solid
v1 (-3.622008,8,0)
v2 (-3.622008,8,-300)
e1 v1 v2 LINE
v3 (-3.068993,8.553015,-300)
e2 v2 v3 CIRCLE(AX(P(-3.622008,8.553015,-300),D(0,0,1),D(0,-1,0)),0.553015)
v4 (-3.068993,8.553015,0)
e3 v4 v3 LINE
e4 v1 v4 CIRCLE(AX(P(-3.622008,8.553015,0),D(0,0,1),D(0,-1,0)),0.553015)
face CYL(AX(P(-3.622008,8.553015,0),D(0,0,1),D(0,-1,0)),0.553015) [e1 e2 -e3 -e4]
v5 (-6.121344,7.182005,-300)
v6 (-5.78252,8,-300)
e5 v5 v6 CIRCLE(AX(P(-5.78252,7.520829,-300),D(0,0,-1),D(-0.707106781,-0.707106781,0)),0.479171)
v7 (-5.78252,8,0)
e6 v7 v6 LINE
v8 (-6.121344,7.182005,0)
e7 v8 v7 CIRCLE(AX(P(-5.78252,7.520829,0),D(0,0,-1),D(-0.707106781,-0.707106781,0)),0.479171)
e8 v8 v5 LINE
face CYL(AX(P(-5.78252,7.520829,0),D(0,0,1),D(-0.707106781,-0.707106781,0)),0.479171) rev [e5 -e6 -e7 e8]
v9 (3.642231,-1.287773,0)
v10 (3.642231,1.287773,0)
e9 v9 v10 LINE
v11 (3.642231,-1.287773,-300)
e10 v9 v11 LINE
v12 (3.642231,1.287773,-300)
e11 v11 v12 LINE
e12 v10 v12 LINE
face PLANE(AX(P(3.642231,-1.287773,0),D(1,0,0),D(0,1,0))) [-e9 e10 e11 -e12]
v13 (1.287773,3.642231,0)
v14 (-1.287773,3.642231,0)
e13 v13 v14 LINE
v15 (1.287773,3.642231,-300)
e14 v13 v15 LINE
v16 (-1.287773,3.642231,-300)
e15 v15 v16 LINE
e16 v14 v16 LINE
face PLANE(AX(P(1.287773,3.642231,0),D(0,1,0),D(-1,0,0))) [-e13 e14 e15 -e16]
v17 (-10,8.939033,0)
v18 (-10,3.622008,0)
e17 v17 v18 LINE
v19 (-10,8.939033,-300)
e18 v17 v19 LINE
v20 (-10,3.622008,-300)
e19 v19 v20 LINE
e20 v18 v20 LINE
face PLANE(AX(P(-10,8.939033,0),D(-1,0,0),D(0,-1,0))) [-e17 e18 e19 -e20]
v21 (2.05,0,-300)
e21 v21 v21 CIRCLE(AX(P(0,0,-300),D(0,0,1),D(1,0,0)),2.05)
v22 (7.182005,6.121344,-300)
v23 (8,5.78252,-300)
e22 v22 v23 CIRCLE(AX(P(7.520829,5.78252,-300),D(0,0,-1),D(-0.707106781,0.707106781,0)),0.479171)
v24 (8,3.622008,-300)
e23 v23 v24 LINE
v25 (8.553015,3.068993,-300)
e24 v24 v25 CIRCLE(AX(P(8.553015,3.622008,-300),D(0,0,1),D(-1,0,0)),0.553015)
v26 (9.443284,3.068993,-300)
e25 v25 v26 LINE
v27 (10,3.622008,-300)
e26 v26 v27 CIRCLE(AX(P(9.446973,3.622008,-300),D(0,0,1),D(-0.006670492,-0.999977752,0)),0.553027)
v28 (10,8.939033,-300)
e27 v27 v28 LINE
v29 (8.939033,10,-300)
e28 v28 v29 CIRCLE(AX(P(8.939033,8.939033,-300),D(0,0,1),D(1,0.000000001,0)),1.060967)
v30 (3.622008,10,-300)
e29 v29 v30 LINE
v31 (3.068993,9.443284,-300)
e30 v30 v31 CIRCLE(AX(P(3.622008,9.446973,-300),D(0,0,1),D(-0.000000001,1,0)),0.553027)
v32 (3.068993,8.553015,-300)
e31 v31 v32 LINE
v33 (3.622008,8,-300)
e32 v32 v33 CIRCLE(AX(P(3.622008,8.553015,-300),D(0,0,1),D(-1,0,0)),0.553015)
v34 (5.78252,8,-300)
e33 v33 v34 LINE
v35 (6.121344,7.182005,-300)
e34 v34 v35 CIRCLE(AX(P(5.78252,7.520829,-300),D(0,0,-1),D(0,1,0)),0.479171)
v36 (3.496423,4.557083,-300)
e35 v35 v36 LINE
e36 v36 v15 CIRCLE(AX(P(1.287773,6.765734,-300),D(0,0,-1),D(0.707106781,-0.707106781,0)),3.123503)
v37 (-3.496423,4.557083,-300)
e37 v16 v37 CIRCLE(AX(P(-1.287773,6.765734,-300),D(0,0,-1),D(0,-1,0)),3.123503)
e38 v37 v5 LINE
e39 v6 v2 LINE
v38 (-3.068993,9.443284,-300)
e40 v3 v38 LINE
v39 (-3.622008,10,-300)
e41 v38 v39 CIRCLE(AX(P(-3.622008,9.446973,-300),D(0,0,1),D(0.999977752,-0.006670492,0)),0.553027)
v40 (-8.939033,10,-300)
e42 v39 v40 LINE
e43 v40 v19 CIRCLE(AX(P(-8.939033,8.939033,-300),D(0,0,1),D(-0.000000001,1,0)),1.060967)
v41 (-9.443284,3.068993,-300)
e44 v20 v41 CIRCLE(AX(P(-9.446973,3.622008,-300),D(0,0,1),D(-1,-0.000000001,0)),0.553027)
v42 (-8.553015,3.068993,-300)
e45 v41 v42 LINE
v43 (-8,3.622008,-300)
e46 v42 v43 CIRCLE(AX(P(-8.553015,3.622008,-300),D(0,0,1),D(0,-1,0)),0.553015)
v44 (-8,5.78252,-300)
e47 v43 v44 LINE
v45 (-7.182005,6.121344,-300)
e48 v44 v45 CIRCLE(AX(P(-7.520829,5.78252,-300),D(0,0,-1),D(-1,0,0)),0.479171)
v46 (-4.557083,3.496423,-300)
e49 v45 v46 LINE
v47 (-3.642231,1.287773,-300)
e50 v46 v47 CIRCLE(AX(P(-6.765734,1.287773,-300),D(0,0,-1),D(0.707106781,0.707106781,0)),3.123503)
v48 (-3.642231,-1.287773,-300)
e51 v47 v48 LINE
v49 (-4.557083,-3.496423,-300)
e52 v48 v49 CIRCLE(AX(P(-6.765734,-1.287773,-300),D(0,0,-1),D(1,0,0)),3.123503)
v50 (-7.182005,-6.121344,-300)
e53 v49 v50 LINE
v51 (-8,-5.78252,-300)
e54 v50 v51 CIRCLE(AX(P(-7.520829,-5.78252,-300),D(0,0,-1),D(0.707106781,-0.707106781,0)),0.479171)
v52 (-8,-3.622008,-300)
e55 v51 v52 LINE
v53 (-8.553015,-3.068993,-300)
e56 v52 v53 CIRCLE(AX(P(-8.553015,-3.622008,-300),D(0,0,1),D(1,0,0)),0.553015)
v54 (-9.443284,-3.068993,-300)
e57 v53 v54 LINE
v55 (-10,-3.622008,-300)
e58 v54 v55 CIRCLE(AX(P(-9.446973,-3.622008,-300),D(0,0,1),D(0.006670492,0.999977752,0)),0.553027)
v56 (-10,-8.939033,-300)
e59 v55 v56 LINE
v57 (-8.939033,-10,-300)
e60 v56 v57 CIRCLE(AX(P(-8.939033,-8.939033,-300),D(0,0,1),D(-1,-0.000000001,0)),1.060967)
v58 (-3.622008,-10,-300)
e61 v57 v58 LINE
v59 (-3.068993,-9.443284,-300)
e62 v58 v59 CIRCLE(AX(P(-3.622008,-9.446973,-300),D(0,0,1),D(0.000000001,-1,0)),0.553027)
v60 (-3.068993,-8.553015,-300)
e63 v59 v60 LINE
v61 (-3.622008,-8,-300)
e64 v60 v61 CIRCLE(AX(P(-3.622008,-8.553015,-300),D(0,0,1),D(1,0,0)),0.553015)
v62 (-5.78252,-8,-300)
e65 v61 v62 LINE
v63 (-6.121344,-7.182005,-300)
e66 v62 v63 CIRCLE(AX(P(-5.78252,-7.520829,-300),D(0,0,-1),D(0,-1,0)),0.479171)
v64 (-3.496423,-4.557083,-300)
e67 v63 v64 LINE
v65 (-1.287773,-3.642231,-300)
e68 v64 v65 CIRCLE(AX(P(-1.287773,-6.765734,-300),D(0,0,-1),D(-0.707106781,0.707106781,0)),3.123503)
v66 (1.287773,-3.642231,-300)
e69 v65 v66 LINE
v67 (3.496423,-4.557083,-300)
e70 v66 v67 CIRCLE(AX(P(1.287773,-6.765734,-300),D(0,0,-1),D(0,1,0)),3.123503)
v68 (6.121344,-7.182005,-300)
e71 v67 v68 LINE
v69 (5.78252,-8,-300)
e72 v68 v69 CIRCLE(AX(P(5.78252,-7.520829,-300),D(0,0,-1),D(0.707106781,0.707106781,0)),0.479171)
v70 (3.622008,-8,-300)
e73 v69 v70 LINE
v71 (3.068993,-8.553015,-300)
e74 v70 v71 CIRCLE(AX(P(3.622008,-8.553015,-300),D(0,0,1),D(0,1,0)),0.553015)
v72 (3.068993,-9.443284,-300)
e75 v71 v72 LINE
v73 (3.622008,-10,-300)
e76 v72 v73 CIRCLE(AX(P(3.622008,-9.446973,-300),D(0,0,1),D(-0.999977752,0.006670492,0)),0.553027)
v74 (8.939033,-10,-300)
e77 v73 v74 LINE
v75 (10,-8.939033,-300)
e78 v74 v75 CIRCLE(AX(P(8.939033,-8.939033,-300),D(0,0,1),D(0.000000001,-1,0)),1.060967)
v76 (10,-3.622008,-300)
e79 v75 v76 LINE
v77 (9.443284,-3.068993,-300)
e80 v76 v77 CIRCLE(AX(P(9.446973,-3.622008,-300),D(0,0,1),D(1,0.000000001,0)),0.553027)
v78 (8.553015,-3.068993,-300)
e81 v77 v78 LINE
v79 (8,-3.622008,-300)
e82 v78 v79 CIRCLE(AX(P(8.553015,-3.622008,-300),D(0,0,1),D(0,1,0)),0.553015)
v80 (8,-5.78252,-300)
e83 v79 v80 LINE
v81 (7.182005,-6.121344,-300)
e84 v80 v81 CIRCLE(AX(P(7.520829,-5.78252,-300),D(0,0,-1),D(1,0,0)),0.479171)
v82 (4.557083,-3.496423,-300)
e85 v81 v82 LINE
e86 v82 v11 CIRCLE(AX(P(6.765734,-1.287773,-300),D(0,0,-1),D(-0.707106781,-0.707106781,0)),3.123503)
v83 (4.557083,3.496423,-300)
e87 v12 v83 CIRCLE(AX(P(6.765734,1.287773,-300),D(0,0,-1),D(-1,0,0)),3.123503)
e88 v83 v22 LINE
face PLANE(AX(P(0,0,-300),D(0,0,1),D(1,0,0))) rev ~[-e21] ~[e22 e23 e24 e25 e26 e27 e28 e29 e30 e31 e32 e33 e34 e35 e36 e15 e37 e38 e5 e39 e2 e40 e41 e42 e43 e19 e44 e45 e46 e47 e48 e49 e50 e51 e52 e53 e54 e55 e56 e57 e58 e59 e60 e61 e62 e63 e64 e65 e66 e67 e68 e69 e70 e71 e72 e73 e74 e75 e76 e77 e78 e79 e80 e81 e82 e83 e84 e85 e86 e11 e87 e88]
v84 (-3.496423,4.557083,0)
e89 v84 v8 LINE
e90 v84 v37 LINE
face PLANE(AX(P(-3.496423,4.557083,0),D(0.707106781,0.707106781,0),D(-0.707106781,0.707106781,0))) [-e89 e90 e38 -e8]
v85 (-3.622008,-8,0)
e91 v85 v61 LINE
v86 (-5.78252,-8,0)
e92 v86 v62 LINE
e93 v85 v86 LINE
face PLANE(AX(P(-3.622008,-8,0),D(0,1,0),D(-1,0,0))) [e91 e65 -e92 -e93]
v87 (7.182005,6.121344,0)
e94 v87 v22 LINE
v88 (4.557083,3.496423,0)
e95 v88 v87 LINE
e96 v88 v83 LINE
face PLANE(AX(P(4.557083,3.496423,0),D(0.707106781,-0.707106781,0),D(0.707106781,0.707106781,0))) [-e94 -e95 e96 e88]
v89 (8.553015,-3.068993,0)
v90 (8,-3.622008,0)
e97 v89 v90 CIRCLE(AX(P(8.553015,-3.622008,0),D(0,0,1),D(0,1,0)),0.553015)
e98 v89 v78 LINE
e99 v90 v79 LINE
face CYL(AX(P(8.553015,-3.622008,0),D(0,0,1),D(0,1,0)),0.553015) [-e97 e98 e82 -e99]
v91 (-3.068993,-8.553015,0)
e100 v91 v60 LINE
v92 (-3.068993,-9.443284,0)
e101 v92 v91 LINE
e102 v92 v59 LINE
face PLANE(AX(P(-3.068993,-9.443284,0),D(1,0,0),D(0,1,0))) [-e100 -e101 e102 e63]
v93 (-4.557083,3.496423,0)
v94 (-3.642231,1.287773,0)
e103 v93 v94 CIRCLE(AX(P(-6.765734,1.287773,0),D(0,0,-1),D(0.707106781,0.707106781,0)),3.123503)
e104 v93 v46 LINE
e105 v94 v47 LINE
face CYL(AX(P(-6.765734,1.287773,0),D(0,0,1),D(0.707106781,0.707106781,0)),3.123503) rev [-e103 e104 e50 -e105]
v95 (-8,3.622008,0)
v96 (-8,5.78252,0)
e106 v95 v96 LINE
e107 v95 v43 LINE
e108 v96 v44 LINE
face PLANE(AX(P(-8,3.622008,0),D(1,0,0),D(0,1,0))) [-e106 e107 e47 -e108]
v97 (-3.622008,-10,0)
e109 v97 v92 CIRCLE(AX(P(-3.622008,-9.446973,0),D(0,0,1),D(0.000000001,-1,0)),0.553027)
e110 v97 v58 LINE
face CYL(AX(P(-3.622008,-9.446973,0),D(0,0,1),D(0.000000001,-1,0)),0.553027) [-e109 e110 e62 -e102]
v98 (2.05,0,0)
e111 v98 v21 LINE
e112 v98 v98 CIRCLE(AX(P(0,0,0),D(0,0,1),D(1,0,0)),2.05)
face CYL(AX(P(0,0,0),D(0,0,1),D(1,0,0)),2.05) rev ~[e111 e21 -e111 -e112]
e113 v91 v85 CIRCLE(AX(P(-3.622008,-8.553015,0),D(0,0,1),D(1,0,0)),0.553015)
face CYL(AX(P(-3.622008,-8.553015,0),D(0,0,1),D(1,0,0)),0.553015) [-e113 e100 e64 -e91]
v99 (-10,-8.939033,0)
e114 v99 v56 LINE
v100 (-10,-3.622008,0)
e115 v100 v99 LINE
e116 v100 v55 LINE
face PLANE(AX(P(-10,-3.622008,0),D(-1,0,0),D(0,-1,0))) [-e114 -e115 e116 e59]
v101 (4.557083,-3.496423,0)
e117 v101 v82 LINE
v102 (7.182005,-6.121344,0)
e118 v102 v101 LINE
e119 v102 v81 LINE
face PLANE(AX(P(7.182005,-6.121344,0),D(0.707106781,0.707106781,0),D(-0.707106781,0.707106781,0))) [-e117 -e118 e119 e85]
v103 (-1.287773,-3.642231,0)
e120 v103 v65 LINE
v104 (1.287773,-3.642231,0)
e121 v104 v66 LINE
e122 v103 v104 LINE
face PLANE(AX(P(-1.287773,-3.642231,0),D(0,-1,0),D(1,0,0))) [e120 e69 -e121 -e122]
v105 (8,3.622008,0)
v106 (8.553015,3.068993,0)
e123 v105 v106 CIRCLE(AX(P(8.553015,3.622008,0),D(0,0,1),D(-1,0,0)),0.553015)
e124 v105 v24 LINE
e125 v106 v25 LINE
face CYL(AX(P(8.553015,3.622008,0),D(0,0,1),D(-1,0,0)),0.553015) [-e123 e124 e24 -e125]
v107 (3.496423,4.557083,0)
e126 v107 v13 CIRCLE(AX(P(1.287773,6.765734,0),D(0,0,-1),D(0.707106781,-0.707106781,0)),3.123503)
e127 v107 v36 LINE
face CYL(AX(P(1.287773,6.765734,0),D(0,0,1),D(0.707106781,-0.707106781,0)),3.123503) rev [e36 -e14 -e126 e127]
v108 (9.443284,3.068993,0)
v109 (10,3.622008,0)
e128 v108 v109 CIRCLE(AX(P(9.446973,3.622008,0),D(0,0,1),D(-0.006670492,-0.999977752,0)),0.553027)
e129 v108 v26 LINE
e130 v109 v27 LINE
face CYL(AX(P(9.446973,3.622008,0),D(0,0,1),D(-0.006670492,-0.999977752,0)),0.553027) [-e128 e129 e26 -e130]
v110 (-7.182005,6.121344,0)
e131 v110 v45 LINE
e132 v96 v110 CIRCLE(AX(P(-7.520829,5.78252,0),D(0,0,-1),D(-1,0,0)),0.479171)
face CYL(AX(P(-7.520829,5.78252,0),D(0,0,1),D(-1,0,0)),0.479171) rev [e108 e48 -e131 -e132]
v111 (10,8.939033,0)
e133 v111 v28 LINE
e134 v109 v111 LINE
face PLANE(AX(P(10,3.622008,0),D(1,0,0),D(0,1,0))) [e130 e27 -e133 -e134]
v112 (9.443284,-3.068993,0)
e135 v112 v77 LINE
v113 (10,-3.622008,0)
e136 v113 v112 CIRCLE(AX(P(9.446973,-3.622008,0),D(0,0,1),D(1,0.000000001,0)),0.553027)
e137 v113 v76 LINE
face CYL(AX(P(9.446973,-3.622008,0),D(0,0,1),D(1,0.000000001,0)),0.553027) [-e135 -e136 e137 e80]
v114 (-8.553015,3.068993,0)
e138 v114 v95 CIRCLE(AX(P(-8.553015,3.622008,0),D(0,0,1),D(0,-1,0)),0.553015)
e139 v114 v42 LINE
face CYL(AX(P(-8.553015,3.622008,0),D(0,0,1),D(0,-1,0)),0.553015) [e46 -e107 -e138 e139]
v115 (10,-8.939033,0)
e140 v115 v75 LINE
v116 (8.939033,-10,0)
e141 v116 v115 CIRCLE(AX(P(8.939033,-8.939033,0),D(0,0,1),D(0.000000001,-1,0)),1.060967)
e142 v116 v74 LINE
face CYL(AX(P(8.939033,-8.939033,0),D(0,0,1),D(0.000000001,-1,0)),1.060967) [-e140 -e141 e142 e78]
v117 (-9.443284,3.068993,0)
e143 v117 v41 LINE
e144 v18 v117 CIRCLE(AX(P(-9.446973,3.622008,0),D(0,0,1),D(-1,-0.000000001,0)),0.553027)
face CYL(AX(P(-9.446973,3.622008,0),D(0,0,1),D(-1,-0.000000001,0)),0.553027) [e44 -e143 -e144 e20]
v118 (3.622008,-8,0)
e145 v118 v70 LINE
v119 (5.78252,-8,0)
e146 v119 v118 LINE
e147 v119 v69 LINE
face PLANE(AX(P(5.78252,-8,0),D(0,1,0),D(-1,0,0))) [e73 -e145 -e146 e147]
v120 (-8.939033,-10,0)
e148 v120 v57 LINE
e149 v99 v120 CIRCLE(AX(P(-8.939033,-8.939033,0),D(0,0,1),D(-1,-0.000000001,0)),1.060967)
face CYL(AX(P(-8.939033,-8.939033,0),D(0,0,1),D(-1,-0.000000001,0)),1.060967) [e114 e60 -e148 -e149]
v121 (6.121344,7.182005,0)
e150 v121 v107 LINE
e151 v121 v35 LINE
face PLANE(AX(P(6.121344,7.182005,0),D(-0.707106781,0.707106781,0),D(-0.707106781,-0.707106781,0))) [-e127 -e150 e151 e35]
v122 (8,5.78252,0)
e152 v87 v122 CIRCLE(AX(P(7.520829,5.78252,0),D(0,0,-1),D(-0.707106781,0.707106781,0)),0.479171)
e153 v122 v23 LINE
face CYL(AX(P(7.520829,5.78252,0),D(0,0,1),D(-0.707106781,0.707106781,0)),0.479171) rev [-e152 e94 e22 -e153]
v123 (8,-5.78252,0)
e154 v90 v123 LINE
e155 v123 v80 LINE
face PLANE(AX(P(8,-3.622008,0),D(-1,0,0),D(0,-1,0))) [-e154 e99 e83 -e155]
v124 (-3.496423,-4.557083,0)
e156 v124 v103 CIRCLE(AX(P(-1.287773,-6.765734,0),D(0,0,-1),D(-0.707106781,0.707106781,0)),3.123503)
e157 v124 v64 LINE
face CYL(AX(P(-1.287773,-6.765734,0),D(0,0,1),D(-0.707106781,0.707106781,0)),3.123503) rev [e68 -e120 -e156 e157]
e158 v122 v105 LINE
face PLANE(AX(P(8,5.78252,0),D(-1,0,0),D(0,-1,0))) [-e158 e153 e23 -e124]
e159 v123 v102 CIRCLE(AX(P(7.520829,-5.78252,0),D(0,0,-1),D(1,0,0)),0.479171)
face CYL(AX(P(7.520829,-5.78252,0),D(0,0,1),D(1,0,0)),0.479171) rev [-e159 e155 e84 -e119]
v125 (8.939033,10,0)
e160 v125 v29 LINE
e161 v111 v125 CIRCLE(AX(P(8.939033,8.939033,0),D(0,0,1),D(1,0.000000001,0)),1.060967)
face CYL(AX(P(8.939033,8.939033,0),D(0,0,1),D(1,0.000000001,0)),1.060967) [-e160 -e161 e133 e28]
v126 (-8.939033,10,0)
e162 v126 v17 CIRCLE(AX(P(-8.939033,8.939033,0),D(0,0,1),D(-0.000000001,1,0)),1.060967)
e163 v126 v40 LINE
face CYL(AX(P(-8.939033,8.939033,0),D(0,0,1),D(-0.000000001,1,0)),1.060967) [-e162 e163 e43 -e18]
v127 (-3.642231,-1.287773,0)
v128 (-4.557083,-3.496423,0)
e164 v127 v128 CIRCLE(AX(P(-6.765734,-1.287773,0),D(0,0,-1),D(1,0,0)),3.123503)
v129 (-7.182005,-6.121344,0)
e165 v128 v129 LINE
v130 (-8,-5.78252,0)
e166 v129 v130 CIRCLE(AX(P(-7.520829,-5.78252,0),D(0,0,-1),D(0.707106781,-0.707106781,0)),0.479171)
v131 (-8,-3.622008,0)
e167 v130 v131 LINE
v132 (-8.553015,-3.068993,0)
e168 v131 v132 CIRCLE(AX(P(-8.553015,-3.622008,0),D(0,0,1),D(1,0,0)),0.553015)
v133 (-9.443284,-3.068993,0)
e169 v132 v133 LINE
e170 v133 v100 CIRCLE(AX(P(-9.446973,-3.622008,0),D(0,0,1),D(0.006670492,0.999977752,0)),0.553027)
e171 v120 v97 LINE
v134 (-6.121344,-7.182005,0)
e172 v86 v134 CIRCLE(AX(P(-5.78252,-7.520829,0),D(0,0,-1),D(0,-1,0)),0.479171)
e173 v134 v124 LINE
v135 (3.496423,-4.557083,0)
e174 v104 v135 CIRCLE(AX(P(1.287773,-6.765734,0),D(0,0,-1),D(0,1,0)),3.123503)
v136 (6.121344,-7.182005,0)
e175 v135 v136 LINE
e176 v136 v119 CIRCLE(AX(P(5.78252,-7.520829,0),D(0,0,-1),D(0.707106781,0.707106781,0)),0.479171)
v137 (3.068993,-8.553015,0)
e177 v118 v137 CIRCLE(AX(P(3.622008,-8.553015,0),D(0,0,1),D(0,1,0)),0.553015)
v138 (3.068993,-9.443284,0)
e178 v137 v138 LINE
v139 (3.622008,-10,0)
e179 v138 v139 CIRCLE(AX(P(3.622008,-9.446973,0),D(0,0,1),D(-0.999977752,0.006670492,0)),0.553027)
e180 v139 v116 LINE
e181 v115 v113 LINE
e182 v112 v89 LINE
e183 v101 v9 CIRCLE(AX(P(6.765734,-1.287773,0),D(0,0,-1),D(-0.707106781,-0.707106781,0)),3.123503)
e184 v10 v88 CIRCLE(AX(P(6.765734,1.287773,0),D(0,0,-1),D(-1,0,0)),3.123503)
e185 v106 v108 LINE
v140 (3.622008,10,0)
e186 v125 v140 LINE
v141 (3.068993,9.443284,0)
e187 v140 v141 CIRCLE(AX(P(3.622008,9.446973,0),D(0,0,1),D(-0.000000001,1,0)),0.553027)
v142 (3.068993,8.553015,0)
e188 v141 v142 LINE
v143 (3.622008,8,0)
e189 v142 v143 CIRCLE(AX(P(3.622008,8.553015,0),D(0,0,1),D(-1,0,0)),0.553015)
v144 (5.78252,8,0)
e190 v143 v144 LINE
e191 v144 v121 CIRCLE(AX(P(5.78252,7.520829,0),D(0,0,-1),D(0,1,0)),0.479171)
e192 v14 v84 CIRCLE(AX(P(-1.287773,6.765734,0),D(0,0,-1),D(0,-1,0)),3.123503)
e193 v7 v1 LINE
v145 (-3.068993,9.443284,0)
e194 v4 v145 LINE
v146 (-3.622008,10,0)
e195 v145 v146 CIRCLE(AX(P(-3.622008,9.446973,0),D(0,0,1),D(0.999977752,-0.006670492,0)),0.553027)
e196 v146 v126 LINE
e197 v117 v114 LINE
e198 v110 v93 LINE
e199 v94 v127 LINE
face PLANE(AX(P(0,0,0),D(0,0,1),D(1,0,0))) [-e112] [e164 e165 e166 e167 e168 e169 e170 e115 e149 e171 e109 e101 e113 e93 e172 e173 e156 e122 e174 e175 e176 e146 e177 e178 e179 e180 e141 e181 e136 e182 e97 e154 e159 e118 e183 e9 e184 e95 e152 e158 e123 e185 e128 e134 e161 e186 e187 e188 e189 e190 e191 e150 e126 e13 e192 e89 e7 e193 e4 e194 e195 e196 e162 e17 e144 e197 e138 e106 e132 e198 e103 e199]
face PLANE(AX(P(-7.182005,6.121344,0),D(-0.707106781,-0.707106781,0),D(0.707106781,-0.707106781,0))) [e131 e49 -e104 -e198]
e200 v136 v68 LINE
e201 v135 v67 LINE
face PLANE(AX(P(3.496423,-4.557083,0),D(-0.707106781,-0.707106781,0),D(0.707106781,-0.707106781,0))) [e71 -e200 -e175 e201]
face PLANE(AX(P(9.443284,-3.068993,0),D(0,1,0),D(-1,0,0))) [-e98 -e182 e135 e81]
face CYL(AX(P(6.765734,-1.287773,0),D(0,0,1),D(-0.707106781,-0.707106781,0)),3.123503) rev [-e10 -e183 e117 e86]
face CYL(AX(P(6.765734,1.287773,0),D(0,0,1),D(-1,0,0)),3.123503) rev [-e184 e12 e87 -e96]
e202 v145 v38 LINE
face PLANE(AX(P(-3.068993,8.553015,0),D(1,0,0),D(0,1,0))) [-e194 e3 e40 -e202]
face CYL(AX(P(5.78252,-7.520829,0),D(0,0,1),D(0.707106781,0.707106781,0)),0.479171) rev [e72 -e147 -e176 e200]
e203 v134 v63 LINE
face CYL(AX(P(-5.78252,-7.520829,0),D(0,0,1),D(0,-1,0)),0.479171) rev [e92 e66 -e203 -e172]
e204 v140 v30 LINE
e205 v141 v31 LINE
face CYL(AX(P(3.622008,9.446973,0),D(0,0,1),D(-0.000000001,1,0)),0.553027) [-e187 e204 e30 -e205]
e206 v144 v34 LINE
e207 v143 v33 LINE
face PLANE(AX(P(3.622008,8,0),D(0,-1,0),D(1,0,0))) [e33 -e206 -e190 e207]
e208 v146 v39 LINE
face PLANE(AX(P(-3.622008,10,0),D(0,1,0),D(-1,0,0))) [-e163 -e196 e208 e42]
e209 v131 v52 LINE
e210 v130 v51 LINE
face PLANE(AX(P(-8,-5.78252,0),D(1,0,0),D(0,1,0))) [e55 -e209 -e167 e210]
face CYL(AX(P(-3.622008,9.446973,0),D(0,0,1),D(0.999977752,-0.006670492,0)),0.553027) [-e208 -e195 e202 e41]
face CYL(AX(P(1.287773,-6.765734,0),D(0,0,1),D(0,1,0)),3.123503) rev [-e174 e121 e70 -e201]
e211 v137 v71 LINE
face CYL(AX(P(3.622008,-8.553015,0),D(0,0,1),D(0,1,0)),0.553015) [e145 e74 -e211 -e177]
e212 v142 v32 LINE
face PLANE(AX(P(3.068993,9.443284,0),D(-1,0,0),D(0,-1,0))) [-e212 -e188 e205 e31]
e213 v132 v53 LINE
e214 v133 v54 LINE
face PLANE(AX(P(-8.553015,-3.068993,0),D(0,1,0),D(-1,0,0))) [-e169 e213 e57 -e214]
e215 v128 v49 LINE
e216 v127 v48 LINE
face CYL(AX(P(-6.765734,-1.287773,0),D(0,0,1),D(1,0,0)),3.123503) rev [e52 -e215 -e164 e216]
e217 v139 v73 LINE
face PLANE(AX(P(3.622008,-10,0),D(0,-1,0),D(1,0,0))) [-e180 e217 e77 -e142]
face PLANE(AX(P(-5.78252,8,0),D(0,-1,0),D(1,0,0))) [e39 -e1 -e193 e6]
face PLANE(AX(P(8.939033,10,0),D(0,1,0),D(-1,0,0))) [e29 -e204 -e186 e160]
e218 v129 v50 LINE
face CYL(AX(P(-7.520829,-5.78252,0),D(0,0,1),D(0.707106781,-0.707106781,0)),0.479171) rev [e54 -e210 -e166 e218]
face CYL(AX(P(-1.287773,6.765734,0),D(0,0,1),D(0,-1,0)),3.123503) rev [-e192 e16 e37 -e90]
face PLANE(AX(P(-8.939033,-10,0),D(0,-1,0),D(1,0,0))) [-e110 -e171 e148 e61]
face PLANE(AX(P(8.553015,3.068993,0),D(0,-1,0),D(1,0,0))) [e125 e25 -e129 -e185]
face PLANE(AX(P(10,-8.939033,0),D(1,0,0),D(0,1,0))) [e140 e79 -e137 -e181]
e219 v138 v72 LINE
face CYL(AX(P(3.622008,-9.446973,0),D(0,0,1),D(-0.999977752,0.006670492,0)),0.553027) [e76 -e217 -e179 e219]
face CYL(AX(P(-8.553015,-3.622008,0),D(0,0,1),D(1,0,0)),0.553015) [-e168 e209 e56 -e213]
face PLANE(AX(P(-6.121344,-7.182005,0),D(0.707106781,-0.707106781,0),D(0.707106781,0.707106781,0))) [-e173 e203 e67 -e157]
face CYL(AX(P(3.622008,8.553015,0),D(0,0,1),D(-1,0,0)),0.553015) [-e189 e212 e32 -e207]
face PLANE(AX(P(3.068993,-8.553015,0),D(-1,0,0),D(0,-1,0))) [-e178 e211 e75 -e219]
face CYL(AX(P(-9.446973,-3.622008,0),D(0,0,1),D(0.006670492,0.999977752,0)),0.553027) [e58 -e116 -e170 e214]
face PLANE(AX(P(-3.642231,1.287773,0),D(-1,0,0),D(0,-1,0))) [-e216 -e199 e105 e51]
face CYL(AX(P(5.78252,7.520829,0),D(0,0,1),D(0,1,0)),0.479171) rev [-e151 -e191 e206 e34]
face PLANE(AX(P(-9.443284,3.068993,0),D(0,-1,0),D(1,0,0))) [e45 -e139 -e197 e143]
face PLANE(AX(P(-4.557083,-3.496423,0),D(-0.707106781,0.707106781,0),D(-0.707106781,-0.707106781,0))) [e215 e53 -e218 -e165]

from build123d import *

# Parameters (mm, degrees)
SKETCH2_R           = 2.05
BOSS_EXTRUDE1_DEPTH = 300


with BuildPart() as part:
    # Sketch2 → Boss-Extrude1 (new body)
    with BuildSketch(Plane.XY):
        with BuildLine():
            Line((-3.642230561, 1.287773026), (-3.642230561, -1.287773026))
            ThreePointArc((-3.642230561, -1.287773026), (-3.87999308, -2.483085929), (-4.55708345, -3.496423279))
            Line((-4.55708345, -3.496423279), (-7.182004606, -6.121344434))
            ThreePointArc((-7.182004606, -6.121344434), (-7.704200045, -6.225215565), (-8, -5.782519648))
            Line((-8, -5.782519648), (-8, -3.622007668))
            ThreePointArc((-8, -3.622007668), (-8.161974206, -3.230967343), (-8.553014531, -3.068993137))
            Line((-8.553014531, -3.068993137), (-9.443284204, -3.068993137))
            ThreePointArc((-9.443284204, -3.068993137), (-9.836715763, -3.229656566), (-10, -3.622007668))
            Line((-10, -3.622007668), (-10, -8.939033256))
            ThreePointArc((-10, -8.939033256), (-9.689250035, -9.689250035), (-8.939033256, -10))
            Line((-8.939033256, -10), (-3.622007668, -10))
            ThreePointArc((-3.622007668, -10), (-3.229656566, -9.836715763), (-3.068993137, -9.443284204))
            Line((-3.068993137, -9.443284204), (-3.068993137, -8.553014531))
            ThreePointArc((-3.068993137, -8.553014531), (-3.230967343, -8.161974206), (-3.622007668, -8))
            Line((-3.622007668, -8), (-5.782519648, -8))
            ThreePointArc((-5.782519648, -8), (-6.225215565, -7.704200045), (-6.121344434, -7.182004606))
            Line((-6.121344434, -7.182004606), (-3.496423279, -4.55708345))
            ThreePointArc((-3.496423279, -4.55708345), (-2.483085929, -3.87999308), (-1.287773026, -3.642230561))
            Line((-1.287773026, -3.642230561), (1.287773026, -3.642230561))
            ThreePointArc((1.287773026, -3.642230561), (2.483085929, -3.87999308), (3.496423279, -4.55708345))
            Line((3.496423279, -4.55708345), (6.121344434, -7.182004606))
            ThreePointArc((6.121344434, -7.182004606), (6.225215565, -7.704200045), (5.782519648, -8))
            Line((5.782519648, -8), (3.622007668, -8))
            ThreePointArc((3.622007668, -8), (3.230967343, -8.161974206), (3.068993137, -8.553014531))
            Line((3.068993137, -8.553014531), (3.068993137, -9.443284204))
            ThreePointArc((3.068993137, -9.443284204), (3.229656566, -9.836715763), (3.622007668, -10))
            Line((3.622007668, -10), (8.939033256, -10))
            ThreePointArc((8.939033256, -10), (9.689250035, -9.689250035), (10, -8.939033256))
            Line((10, -8.939033256), (10, -3.622007668))
            ThreePointArc((10, -3.622007668), (9.836715763, -3.229656566), (9.443284204, -3.068993137))
            Line((9.443284204, -3.068993137), (8.553014531, -3.068993137))
            ThreePointArc((8.553014531, -3.068993137), (8.161974206, -3.230967343), (8, -3.622007668))
            Line((8, -3.622007668), (8, -5.782519648))
            ThreePointArc((8, -5.782519648), (7.704200045, -6.225215565), (7.182004606, -6.121344434))
            Line((7.182004606, -6.121344434), (4.55708345, -3.496423279))
            ThreePointArc((4.55708345, -3.496423279), (3.87999308, -2.483085929), (3.642230561, -1.287773026))
            Line((3.642230561, -1.287773026), (3.642230561, 1.287773026))
            ThreePointArc((3.642230561, 1.287773026), (3.87999308, 2.483085929), (4.55708345, 3.496423279))
            Line((4.55708345, 3.496423279), (7.182004606, 6.121344434))
            ThreePointArc((7.182004606, 6.121344434), (7.704200045, 6.225215565), (8, 5.782519648))
            Line((8, 5.782519648), (8, 3.622007668))
            ThreePointArc((8, 3.622007668), (8.161974206, 3.230967343), (8.553014531, 3.068993137))
            Line((8.553014531, 3.068993137), (9.443284204, 3.068993137))
            ThreePointArc((9.443284204, 3.068993137), (9.836715763, 3.229656566), (10, 3.622007668))
            Line((10, 3.622007668), (10, 8.939033256))
            ThreePointArc((10, 8.939033256), (9.689250035, 9.689250035), (8.939033256, 10))
            Line((8.939033256, 10), (3.622007668, 10))
            ThreePointArc((3.622007668, 10), (3.229656566, 9.836715763), (3.068993137, 9.443284204))
            Line((3.068993137, 9.443284204), (3.068993137, 8.553014531))
            ThreePointArc((3.068993137, 8.553014531), (3.230967343, 8.161974206), (3.622007668, 8))
            Line((3.622007668, 8), (5.782519648, 8))
            ThreePointArc((5.782519648, 8), (6.225215565, 7.704200045), (6.121344434, 7.182004606))
            Line((6.121344434, 7.182004606), (3.496423279, 4.55708345))
            ThreePointArc((3.496423279, 4.55708345), (2.483085929, 3.87999308), (1.287773026, 3.642230561))
            Line((1.287773026, 3.642230561), (-1.287773026, 3.642230561))
            ThreePointArc((-1.287773026, 3.642230561), (-2.483085929, 3.87999308), (-3.496423279, 4.55708345))
            Line((-3.496423279, 4.55708345), (-6.121344434, 7.182004606))
            ThreePointArc((-6.121344434, 7.182004606), (-6.225215565, 7.704200045), (-5.782519648, 8))
            Line((-5.782519648, 8), (-3.622007668, 8))
            ThreePointArc((-3.622007668, 8), (-3.230967343, 8.161974206), (-3.068993137, 8.553014531))
            Line((-3.068993137, 8.553014531), (-3.068993137, 9.443284204))
            ThreePointArc((-3.068993137, 9.443284204), (-3.229656566, 9.836715763), (-3.622007668, 10))
            Line((-3.622007668, 10), (-8.939033256, 10))
            ThreePointArc((-8.939033256, 10), (-9.689250035, 9.689250035), (-10, 8.939033256))
            Line((-10, 8.939033256), (-10, 3.622007668))
            ThreePointArc((-10, 3.622007668), (-9.836715763, 3.229656566), (-9.443284204, 3.068993137))
            Line((-9.443284204, 3.068993137), (-8.553014531, 3.068993137))
            ThreePointArc((-8.553014531, 3.068993137), (-8.161974206, 3.230967343), (-8, 3.622007668))
            Line((-8, 3.622007668), (-8, 5.782519648))
            ThreePointArc((-8, 5.782519648), (-7.704200045, 6.225215565), (-7.182004606, 6.121344434))
            Line((-7.182004606, 6.121344434), (-4.55708345, 3.496423279))
            ThreePointArc((-4.55708345, 3.496423279), (-3.87999308, 2.483085929), (-3.642230561, 1.287773026))
        make_face()
        Circle(SKETCH2_R, mode=Mode.SUBTRACT)
    extrude(amount=-BOSS_EXTRUDE1_DEPTH)


solid = part.part
